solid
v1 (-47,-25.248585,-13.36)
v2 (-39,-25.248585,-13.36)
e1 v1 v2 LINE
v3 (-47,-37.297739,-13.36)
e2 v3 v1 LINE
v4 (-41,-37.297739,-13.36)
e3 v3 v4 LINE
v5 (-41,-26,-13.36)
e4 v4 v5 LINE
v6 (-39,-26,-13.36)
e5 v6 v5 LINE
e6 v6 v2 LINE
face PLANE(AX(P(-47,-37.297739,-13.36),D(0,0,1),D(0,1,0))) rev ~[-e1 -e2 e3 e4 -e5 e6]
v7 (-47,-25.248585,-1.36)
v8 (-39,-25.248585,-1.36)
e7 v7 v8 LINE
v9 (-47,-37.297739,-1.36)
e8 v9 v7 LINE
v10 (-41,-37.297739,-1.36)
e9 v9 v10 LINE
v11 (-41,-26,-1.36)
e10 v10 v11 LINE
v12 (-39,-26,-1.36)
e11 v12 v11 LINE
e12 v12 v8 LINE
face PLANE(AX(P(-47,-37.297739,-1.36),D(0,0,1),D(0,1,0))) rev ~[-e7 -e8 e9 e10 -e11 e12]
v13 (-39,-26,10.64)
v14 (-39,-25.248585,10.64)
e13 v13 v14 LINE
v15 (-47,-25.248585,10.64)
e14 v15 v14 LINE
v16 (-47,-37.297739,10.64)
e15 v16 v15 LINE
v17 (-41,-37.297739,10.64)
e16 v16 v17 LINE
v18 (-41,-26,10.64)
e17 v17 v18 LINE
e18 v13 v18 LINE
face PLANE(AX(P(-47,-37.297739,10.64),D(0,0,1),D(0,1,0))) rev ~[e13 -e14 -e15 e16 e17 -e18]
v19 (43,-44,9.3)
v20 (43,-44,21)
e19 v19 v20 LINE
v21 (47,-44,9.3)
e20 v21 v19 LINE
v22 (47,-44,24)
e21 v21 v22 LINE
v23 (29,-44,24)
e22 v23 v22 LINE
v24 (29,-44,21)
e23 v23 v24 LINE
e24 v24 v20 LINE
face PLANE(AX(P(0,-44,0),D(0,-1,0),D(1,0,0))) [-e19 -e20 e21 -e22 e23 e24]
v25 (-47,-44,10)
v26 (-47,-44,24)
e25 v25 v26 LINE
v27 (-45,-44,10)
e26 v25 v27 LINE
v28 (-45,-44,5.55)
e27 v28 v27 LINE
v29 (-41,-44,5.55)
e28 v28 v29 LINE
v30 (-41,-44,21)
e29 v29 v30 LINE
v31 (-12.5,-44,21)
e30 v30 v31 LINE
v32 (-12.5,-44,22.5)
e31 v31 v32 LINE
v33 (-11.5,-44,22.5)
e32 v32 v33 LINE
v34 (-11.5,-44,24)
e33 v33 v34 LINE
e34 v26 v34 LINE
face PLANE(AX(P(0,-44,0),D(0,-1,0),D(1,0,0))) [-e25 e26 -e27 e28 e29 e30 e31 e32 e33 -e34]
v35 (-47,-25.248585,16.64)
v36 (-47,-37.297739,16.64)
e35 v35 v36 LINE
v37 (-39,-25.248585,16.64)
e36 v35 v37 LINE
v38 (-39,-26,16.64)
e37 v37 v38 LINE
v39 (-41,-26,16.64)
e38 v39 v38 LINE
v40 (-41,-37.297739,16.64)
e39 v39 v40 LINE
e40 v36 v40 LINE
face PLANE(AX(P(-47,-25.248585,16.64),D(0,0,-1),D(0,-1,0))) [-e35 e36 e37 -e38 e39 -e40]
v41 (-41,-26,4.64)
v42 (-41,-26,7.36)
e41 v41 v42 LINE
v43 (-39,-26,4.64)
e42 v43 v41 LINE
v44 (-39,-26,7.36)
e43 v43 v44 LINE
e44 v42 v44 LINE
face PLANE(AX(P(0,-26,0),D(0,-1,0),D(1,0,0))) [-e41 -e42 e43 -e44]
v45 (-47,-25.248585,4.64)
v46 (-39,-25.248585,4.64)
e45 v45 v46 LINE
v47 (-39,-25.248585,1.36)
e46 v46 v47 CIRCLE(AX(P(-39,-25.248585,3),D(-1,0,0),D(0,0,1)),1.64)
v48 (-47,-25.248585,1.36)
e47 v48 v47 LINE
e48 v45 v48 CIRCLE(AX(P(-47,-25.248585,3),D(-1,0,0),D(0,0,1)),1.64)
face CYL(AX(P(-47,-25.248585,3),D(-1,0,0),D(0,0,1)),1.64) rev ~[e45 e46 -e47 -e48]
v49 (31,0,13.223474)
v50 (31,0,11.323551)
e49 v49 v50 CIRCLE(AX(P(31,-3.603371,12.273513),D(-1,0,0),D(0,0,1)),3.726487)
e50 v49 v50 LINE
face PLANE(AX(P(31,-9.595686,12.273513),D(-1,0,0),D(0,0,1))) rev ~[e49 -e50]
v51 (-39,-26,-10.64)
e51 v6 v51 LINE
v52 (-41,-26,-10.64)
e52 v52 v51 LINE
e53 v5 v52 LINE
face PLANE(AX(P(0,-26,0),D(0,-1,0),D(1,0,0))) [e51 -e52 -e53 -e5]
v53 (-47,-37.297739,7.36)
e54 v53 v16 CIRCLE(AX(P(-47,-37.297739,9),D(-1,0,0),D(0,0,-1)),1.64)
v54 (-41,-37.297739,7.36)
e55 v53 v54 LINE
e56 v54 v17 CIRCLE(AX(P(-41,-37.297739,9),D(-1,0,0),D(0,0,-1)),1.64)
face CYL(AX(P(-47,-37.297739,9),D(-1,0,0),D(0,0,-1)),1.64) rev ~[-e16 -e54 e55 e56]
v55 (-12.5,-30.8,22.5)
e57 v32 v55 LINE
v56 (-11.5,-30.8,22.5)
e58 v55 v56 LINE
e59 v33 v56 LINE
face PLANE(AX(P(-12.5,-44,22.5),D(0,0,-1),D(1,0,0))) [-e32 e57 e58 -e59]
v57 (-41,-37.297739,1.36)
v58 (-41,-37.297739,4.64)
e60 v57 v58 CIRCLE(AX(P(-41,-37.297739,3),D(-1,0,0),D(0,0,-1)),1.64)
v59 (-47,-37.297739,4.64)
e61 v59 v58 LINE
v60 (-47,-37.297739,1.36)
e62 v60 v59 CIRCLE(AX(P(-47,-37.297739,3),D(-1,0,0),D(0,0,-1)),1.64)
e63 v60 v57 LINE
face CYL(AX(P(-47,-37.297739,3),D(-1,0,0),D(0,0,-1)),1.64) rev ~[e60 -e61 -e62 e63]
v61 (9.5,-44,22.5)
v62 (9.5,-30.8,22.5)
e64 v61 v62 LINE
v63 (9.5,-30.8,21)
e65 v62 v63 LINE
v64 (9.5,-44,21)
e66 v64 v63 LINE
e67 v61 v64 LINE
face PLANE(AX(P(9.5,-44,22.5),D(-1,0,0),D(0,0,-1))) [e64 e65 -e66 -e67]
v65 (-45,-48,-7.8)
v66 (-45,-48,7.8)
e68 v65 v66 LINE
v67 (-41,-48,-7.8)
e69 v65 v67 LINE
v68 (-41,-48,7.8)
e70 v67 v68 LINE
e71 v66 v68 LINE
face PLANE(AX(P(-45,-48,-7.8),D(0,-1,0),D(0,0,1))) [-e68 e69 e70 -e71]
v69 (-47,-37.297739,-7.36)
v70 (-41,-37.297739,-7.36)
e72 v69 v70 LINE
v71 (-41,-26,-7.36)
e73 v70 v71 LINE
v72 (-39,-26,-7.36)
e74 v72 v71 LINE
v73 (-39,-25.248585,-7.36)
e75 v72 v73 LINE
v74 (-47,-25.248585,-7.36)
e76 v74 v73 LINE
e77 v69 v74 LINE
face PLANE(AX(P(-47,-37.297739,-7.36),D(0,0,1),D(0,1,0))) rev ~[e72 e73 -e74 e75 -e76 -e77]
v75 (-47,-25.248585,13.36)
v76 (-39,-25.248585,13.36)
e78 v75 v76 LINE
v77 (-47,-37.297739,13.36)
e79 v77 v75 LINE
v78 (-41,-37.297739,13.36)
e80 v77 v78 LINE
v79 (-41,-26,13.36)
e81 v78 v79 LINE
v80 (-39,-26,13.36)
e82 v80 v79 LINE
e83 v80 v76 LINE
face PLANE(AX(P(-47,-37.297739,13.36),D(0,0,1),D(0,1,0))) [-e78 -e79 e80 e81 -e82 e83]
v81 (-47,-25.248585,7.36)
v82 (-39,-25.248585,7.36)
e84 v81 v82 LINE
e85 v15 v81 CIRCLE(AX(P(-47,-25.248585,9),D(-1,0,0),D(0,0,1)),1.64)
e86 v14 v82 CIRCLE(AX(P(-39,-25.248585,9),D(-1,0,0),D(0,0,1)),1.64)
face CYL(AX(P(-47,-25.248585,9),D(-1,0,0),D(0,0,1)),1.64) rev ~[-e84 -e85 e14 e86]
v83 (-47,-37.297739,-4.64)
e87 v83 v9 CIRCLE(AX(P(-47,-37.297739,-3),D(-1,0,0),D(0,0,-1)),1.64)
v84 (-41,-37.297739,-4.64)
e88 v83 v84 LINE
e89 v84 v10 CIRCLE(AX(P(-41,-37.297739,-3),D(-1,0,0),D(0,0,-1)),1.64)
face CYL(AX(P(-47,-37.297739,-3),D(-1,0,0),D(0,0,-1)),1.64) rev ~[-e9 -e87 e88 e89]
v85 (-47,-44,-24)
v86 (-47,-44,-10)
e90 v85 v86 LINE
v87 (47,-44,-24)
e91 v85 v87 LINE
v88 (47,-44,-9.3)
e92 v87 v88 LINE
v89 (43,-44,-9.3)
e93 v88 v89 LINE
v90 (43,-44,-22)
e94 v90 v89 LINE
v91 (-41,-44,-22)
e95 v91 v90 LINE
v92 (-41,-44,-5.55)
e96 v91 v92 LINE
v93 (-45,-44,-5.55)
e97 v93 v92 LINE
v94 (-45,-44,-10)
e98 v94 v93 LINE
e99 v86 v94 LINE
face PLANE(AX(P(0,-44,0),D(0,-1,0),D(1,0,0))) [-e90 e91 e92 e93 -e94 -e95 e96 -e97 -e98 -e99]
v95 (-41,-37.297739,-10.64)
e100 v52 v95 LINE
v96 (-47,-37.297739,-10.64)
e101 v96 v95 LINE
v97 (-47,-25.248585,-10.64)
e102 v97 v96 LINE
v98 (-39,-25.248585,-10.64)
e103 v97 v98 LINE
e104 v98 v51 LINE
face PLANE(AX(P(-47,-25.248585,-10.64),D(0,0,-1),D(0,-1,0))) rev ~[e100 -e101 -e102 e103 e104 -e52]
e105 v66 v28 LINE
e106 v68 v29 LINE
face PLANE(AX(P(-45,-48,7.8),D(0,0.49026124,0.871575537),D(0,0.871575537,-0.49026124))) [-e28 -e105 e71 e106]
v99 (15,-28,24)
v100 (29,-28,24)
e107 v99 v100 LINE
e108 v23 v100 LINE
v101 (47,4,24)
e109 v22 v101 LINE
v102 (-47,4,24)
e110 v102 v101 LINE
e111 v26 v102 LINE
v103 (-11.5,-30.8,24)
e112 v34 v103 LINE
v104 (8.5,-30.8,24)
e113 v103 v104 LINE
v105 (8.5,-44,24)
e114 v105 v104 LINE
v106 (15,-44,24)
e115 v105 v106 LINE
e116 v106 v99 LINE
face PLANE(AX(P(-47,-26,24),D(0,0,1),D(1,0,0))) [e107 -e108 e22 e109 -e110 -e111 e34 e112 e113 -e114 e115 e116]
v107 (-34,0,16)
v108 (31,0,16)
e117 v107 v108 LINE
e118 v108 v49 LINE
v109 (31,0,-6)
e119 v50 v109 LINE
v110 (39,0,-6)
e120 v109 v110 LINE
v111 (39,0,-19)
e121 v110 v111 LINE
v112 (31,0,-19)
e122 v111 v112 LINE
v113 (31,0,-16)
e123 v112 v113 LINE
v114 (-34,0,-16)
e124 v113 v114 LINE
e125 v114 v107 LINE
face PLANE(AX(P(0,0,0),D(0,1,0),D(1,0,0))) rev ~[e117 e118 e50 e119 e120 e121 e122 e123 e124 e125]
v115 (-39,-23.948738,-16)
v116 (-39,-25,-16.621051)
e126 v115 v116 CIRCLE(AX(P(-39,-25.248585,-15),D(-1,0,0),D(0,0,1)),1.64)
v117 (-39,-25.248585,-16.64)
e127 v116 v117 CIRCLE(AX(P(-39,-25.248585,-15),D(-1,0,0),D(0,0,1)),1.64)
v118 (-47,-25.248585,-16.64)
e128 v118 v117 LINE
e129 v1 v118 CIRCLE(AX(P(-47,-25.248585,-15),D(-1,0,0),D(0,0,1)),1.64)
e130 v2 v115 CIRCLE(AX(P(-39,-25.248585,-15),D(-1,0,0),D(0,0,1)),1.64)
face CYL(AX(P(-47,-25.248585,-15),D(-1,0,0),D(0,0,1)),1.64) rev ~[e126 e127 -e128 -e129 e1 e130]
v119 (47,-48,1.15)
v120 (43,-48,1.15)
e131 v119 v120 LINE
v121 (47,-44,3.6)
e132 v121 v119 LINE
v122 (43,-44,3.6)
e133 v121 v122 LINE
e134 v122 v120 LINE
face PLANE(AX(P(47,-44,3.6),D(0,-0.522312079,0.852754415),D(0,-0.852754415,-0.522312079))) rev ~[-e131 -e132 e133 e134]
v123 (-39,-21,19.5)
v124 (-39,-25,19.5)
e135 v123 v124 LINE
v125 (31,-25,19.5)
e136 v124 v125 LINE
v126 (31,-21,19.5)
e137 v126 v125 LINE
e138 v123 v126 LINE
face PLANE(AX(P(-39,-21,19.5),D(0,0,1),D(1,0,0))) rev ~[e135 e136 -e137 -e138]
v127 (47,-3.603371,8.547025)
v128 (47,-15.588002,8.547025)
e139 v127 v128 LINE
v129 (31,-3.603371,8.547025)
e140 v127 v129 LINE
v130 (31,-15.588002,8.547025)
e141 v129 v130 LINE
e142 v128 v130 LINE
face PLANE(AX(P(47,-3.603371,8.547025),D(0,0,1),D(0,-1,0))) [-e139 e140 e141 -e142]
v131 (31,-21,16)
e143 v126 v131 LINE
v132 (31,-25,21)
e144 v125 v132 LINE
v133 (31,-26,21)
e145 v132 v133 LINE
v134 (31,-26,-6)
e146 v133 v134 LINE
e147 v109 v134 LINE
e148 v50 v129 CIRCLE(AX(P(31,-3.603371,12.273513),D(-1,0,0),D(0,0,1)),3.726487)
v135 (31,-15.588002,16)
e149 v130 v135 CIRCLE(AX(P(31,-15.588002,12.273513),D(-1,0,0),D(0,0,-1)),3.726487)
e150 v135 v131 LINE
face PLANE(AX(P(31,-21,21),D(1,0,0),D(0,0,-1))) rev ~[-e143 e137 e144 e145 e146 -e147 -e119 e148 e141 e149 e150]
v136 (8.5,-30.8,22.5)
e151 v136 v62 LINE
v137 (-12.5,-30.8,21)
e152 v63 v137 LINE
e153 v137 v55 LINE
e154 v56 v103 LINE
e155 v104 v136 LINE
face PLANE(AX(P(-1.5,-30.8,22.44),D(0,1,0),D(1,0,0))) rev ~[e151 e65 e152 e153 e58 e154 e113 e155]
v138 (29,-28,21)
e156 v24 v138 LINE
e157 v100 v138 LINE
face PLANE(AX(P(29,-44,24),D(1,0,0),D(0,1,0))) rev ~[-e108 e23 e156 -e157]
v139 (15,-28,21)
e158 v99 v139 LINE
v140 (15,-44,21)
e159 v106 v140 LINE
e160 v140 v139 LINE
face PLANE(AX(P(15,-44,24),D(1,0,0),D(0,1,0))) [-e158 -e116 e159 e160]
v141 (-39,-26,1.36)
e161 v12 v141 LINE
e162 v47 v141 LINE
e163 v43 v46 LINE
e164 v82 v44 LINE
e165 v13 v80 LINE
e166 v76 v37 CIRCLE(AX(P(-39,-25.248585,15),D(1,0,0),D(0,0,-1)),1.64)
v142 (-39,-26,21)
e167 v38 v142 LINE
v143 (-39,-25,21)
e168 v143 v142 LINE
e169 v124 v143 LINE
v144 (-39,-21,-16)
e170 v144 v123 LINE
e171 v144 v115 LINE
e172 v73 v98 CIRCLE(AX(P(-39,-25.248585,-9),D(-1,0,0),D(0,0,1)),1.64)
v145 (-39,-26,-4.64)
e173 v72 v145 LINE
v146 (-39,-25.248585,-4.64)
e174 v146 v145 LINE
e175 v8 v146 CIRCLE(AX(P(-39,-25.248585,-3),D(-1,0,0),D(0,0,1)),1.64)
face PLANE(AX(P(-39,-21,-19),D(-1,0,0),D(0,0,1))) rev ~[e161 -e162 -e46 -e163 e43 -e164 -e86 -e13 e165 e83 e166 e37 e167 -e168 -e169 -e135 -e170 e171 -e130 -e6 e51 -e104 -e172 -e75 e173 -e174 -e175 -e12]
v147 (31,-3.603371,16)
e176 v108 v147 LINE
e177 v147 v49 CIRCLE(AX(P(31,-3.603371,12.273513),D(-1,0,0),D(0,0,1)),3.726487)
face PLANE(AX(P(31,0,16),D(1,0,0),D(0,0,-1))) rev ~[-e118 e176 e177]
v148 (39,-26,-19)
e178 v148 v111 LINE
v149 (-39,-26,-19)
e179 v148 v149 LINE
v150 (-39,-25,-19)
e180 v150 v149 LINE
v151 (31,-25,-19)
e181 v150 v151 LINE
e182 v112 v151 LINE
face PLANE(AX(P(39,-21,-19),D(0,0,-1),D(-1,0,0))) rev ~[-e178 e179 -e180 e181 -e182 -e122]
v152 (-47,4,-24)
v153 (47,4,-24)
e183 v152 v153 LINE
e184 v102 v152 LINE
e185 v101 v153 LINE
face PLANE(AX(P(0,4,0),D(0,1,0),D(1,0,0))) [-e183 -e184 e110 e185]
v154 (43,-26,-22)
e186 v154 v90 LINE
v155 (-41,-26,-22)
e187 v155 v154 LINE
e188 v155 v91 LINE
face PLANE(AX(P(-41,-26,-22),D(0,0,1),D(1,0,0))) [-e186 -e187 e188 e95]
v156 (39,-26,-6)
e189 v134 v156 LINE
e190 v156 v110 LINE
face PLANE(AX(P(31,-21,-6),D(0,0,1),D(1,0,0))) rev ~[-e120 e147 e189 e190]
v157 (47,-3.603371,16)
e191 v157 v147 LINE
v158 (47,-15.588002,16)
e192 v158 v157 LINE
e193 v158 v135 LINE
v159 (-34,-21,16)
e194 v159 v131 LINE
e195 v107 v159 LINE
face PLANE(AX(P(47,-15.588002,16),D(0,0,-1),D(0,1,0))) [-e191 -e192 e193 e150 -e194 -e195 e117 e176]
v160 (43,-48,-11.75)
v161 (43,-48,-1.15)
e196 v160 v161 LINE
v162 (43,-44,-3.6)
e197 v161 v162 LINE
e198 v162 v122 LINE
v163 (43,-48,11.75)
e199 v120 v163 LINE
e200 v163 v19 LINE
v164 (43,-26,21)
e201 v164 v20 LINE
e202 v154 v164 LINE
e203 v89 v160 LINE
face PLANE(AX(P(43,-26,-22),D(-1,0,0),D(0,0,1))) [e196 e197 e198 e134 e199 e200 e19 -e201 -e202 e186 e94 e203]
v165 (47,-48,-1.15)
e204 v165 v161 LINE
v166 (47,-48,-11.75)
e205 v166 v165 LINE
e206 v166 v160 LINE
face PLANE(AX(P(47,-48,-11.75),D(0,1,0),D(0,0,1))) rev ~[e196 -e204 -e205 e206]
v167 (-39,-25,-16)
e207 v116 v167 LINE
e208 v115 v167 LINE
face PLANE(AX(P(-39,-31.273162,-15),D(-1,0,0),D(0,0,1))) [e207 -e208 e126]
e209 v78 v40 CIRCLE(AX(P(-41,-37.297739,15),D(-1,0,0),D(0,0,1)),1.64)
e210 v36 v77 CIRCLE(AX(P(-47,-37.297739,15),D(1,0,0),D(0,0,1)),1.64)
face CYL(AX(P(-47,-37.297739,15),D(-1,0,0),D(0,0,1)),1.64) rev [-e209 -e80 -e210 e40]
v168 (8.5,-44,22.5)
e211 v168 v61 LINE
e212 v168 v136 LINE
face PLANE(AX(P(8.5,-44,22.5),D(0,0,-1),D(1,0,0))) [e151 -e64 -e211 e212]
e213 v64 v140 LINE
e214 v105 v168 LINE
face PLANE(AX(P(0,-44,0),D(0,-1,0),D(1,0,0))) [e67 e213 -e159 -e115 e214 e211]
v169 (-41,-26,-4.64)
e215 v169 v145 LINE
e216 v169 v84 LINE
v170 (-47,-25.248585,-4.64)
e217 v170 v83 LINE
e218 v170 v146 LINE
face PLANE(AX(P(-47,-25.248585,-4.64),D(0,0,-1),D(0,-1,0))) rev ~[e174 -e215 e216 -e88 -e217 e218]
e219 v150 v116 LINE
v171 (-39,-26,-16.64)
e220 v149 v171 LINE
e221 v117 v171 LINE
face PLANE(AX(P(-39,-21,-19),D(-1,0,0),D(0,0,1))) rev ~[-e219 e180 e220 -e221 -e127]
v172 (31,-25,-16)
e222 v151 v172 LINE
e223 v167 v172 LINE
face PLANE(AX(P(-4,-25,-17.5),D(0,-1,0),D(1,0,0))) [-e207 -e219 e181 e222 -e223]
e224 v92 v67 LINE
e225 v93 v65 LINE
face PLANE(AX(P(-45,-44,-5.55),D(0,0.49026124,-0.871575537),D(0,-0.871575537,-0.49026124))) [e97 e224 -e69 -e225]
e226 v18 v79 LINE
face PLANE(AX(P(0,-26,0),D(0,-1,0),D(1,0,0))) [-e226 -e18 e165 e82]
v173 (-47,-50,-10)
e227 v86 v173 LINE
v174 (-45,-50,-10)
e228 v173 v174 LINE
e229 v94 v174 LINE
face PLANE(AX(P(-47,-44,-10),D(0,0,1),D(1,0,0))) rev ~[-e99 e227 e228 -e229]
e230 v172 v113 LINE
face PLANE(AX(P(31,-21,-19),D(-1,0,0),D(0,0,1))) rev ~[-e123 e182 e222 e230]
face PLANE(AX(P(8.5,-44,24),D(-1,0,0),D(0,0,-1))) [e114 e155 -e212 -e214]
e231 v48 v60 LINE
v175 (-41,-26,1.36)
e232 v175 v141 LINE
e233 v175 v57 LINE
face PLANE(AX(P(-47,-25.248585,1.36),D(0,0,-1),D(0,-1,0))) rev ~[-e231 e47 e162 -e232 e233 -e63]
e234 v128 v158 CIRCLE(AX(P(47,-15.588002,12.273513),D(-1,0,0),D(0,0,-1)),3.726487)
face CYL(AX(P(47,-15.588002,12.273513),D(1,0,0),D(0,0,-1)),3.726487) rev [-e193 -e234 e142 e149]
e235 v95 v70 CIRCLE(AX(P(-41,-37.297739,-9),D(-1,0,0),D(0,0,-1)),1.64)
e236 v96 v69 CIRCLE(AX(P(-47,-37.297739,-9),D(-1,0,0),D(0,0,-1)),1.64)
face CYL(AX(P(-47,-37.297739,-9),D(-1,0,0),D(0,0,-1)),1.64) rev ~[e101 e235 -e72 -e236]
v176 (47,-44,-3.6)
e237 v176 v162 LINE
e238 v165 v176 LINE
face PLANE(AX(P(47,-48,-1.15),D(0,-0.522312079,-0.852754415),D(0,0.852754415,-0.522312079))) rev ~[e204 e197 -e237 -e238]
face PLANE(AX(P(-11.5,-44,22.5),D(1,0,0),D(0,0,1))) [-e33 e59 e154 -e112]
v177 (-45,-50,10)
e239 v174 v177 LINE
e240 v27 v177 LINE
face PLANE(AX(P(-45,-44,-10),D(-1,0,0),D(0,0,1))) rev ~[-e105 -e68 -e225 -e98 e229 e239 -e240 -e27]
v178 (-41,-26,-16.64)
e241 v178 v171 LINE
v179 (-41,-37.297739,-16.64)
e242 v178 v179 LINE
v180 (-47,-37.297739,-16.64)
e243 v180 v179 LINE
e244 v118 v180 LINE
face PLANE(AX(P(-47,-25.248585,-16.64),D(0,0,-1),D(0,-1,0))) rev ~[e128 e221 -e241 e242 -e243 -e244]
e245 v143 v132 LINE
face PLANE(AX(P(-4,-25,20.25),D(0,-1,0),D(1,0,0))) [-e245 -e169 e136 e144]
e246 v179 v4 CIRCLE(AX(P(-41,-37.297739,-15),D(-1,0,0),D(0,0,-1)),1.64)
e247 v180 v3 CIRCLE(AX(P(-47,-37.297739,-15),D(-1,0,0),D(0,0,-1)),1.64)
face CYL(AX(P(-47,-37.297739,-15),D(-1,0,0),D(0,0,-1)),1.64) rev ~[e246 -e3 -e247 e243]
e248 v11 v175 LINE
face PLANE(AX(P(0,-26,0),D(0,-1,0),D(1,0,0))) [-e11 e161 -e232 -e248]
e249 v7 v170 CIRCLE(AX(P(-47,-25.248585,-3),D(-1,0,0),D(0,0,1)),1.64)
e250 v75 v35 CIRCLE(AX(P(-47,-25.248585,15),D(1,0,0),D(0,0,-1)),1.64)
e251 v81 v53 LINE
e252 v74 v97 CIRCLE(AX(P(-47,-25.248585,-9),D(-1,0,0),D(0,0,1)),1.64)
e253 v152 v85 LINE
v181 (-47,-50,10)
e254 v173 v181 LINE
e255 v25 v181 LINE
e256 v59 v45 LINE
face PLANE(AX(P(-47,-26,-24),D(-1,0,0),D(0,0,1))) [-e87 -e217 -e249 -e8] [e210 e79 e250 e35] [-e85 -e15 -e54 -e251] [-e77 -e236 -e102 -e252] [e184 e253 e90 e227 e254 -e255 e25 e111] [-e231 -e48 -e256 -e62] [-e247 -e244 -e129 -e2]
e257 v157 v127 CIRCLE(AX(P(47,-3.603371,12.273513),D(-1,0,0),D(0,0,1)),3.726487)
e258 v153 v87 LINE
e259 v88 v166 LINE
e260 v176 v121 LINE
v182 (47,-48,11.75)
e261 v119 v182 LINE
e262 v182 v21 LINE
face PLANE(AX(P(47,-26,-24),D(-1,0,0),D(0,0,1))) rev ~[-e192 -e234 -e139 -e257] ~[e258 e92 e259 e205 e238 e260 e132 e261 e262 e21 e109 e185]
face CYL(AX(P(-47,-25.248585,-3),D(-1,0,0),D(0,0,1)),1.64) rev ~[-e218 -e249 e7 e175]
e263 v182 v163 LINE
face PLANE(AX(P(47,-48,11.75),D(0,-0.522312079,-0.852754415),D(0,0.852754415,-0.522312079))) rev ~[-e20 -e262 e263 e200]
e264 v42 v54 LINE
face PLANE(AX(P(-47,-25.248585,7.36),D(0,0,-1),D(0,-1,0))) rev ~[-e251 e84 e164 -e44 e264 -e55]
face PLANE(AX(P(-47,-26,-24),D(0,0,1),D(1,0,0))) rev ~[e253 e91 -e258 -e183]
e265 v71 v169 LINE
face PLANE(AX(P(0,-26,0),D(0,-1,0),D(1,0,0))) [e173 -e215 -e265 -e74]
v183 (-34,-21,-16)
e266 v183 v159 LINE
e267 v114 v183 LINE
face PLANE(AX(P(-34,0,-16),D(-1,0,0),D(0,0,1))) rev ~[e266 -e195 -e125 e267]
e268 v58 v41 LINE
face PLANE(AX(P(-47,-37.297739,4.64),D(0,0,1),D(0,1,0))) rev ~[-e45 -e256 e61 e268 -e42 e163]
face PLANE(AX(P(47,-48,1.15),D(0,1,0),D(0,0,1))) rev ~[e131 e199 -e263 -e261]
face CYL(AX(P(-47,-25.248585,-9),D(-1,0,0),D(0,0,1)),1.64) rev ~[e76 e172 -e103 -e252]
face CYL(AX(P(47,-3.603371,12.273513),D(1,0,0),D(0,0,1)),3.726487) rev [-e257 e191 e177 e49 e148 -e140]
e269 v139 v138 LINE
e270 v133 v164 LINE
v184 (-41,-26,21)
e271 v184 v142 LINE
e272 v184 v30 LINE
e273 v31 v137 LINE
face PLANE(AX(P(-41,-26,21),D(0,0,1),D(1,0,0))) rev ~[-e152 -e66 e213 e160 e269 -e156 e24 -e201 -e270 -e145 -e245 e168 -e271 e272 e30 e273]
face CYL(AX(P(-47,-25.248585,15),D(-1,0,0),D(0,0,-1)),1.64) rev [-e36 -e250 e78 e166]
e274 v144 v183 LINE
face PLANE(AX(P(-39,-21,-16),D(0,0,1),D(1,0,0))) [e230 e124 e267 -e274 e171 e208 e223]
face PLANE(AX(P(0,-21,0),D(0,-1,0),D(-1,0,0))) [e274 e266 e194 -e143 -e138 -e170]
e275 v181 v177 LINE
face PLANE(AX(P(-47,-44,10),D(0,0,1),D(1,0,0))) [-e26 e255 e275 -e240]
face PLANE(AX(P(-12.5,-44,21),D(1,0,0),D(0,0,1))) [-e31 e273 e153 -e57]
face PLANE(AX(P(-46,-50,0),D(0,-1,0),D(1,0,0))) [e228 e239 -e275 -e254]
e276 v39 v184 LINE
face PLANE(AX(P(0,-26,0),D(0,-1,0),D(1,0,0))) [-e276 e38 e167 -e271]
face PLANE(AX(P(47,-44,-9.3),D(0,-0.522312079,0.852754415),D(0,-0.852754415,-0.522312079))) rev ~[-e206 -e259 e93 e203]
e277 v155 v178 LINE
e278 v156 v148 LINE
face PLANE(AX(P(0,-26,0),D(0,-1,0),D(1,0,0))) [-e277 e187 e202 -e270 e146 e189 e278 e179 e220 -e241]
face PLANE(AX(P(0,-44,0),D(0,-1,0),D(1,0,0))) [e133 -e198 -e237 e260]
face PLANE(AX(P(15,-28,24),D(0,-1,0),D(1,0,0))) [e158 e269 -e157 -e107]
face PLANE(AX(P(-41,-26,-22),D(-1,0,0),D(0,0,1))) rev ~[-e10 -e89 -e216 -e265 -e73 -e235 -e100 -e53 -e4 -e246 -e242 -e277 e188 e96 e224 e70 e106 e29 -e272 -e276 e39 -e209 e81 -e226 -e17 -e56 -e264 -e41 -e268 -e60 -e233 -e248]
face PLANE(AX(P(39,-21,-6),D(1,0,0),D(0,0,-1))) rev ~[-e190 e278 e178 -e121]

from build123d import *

# Parameters (mm, degrees)
SKETCH1_W            = 94
SKETCH1_H            = 48
BOSS_EXTRUDE1_DEPTH  = 4
SKETCH8_W            = 94
SKETCH8_H            = 48
BOSS_EXTRUDE2_DEPTH  = 21
CUT_EXTRUDE1_DEPTH   = 16
SKETCH10_W           = 94
SKETCH10_H           = 48
BOSS_EXTRUDE3_DEPTH  = 5
SKETCH15_W           = 70
SKETCH15_H           = 1.5
SKETCH15_H_2         = 3
BOSS_EXTRUDE6_DEPTH  = 4
SKETCH16_W           = 94
SKETCH16_H           = 48
SKETCH16_W_2         = 84
SKETCH16_H_2         = 43
BOSS_EXTRUDE7_DEPTH  = 18
CUT_EXTRUDE4_DEPTH   = 8
SKETCH18_W           = 2
SKETCH18_H           = 20
BOSS_EXTRUDE8_DEPTH  = 6
BOSS_EXTRUDE9_DEPTH  = 4
BOSS_EXTRUDE10_DEPTH = 4
SKETCH22_W           = 14
SKETCH22_H           = 16
CUT_EXTRUDE6_DEPTH   = 3
CUT_EXTRUDE8_DEPTH   = 13.2


with BuildPart() as part:
    # Sketch1 → Boss-Extrude1 (new body)
    with BuildSketch(Plane(origin=(0, 0, 0), x_dir=(1, 0, 0), z_dir=(0, 1, 0))):
        Rectangle(SKETCH1_W, SKETCH1_H)
    extrude(amount=BOSS_EXTRUDE1_DEPTH)

    # Sketch8 → Boss-Extrude2 (add)
    with BuildSketch(Plane(origin=(0, 0, 0), x_dir=(-1, 0, 0), z_dir=(0, -1, 0))):
        Rectangle(SKETCH8_W, SKETCH8_H)
        Polygon((34, -16), (-31, -16), (-31, 6), (-39, 6), (-39, 19), (-31, 19), (-31, 16), (34, 16), align=None, mode=Mode.SUBTRACT)
    extrude(amount=BOSS_EXTRUDE2_DEPTH)

    # Sketch9 → Cut-Extrude1 (cut)
    with BuildSketch(Plane(origin=(47, 0, 0), x_dir=(0, 0, -1), z_dir=(1, 0, 0))):
        with BuildLine():
            Line((-8.547025015, -3.603370842), (-8.547025015, -15.588001804))
            ThreePointArc((-8.547025015, -15.588001804), (-12.273512507, -19.314489297), (-16, -15.588001804))
            Line((-16, -15.588001804), (-16, -3.603370842))
            ThreePointArc((-16, -3.603370842), (-12.273512507, 0.12311665), (-8.547025015, -3.603370842))
        make_face()
    extrude(amount=-CUT_EXTRUDE1_DEPTH, mode=Mode.SUBTRACT)

    # Sketch10 → Boss-Extrude3 (add)
    with BuildSketch(Plane.XZ.offset(21)):
        Rectangle(SKETCH10_W, SKETCH10_H)
        Polygon((31, -6), (39, -6), (39, -19), (-39, -19), (-39, 21), (31, 21), align=None, mode=Mode.SUBTRACT)
    extrude(amount=BOSS_EXTRUDE3_DEPTH)

    # Sketch15 → Boss-Extrude6 (add)
    with BuildSketch(Plane.XZ.offset(21)):
        with Locations((-4, 20.25)):
            Rectangle(SKETCH15_W, SKETCH15_H)
        with Locations((-4, -17.5)):
            Rectangle(SKETCH15_W, SKETCH15_H_2)
    extrude(amount=BOSS_EXTRUDE6_DEPTH)

    # Sketch16 → Boss-Extrude7 (add)
    with BuildSketch(Plane.XZ.offset(26)):
        Rectangle(SKETCH16_W, SKETCH16_H)
        with Locations((1, -0.5)):
            Rectangle(SKETCH16_W_2, SKETCH16_H_2, mode=Mode.SUBTRACT)
    extrude(amount=BOSS_EXTRUDE7_DEPTH)

    # Sketch17 → Cut-Extrude4 (cut)
    with BuildSketch(Plane.ZY.offset(47)):
        with BuildLine():
            Line((13.36, -37.297738986), (13.36, -25.248584525))
            ThreePointArc((13.36, -25.248584525), (15, -23.608584525), (16.64, -25.248584525))
            Line((16.64, -25.248584525), (16.64, -37.297738986))
            ThreePointArc((16.64, -37.297738986), (15, -38.937738986), (13.36, -37.297738986))
        make_face()
        with BuildLine():
            Line((10.64, -37.297738986), (10.64, -25.248584525))
            ThreePointArc((10.64, -25.248584525), (9, -23.608584525), (7.36, -25.248584525))
            Line((7.36, -25.248584525), (7.36, -37.297738986))
            ThreePointArc((7.36, -37.297738986), (9, -38.937738986), (10.64, -37.297738986))
        make_face()
        with BuildLine():
            Line((4.64, -37.297738986), (4.64, -25.248584525))
            ThreePointArc((4.64, -25.248584525), (3, -23.608584525), (1.36, -25.248584525))
            Line((1.36, -25.248584525), (1.36, -37.297738986))
            ThreePointArc((1.36, -37.297738986), (3, -38.937738986), (4.64, -37.297738986))
        make_face()
        with BuildLine():
            Line((-1.36, -37.297738986), (-1.36, -25.248584525))
            ThreePointArc((-1.36, -25.248584525), (-3, -23.608584525), (-4.64, -25.248584525))
            Line((-4.64, -25.248584525), (-4.64, -37.297738986))
            ThreePointArc((-4.64, -37.297738986), (-3, -38.937738986), (-1.36, -37.297738986))
        make_face()
        with BuildLine():
            Line((-7.36, -37.297738986), (-7.36, -25.248584525))
            ThreePointArc((-7.36, -25.248584525), (-9, -23.608584525), (-10.64, -25.248584525))
            Line((-10.64, -25.248584525), (-10.64, -37.297738986))
            ThreePointArc((-10.64, -37.297738986), (-9, -38.937738986), (-7.36, -37.297738986))
        make_face()
        with BuildLine():
            Line((-13.36, -37.297738986), (-13.36, -25.248584525))
            ThreePointArc((-13.36, -25.248584525), (-15, -23.608584525), (-16.64, -25.248584525))
            Line((-16.64, -25.248584525), (-16.64, -37.297738986))
            ThreePointArc((-16.64, -37.297738986), (-15, -38.937738986), (-13.36, -37.297738986))
        make_face()
    extrude(amount=-CUT_EXTRUDE4_DEPTH, mode=Mode.SUBTRACT)

    # Sketch18 → Boss-Extrude8 (add)
    with BuildSketch(Plane.XZ.offset(44)):
        with Locations((-46, 0)):
            Rectangle(SKETCH18_W, SKETCH18_H)
    extrude(amount=BOSS_EXTRUDE8_DEPTH)

    # Sketch19 → Boss-Extrude9 (add)
    with BuildSketch(Plane(origin=(-45, 0, 0), x_dir=(0, 0, -1), z_dir=(1, 0, 0))):
        Polygon((-5.55, -44), (5.55, -44), (7.8, -48), (-7.8, -48), align=None)
    extrude(amount=BOSS_EXTRUDE9_DEPTH)

    # Sketch20 → Boss-Extrude10 (add)
    with BuildSketch(Plane(origin=(47, 0, 0), x_dir=(0, 0, -1), z_dir=(1, 0, 0))):
        Polygon((3.6, -44), (9.3, -44), (11.75, -48), (1.15, -48), align=None)
        Polygon((-3.6, -44), (-1.15, -48), (-11.75, -48), (-9.3, -44), align=None)
    extrude(amount=-BOSS_EXTRUDE10_DEPTH)

    # Sketch22 → Cut-Extrude6 (cut)
    with BuildSketch(Plane.XY.offset(24)):
        with Locations((22, -36)):
            Rectangle(SKETCH22_W, SKETCH22_H)
    extrude(amount=-CUT_EXTRUDE6_DEPTH, mode=Mode.SUBTRACT)

    # Sketch28 → Cut-Extrude8 (cut)
    with BuildSketch(Plane(origin=(0, -44, 0), x_dir=(-1, 0, 0), z_dir=(0, -1, 0))):
        Polygon((-8.5, -24), (-8.5, -22.5), (-9.5, -22.5), (-9.5, -21), (12.5, -21), (12.5, -22.5), (11.5, -22.5), (11.5, -24), align=None)
    extrude(amount=-CUT_EXTRUDE8_DEPTH, mode=Mode.SUBTRACT)


solid = part.part
